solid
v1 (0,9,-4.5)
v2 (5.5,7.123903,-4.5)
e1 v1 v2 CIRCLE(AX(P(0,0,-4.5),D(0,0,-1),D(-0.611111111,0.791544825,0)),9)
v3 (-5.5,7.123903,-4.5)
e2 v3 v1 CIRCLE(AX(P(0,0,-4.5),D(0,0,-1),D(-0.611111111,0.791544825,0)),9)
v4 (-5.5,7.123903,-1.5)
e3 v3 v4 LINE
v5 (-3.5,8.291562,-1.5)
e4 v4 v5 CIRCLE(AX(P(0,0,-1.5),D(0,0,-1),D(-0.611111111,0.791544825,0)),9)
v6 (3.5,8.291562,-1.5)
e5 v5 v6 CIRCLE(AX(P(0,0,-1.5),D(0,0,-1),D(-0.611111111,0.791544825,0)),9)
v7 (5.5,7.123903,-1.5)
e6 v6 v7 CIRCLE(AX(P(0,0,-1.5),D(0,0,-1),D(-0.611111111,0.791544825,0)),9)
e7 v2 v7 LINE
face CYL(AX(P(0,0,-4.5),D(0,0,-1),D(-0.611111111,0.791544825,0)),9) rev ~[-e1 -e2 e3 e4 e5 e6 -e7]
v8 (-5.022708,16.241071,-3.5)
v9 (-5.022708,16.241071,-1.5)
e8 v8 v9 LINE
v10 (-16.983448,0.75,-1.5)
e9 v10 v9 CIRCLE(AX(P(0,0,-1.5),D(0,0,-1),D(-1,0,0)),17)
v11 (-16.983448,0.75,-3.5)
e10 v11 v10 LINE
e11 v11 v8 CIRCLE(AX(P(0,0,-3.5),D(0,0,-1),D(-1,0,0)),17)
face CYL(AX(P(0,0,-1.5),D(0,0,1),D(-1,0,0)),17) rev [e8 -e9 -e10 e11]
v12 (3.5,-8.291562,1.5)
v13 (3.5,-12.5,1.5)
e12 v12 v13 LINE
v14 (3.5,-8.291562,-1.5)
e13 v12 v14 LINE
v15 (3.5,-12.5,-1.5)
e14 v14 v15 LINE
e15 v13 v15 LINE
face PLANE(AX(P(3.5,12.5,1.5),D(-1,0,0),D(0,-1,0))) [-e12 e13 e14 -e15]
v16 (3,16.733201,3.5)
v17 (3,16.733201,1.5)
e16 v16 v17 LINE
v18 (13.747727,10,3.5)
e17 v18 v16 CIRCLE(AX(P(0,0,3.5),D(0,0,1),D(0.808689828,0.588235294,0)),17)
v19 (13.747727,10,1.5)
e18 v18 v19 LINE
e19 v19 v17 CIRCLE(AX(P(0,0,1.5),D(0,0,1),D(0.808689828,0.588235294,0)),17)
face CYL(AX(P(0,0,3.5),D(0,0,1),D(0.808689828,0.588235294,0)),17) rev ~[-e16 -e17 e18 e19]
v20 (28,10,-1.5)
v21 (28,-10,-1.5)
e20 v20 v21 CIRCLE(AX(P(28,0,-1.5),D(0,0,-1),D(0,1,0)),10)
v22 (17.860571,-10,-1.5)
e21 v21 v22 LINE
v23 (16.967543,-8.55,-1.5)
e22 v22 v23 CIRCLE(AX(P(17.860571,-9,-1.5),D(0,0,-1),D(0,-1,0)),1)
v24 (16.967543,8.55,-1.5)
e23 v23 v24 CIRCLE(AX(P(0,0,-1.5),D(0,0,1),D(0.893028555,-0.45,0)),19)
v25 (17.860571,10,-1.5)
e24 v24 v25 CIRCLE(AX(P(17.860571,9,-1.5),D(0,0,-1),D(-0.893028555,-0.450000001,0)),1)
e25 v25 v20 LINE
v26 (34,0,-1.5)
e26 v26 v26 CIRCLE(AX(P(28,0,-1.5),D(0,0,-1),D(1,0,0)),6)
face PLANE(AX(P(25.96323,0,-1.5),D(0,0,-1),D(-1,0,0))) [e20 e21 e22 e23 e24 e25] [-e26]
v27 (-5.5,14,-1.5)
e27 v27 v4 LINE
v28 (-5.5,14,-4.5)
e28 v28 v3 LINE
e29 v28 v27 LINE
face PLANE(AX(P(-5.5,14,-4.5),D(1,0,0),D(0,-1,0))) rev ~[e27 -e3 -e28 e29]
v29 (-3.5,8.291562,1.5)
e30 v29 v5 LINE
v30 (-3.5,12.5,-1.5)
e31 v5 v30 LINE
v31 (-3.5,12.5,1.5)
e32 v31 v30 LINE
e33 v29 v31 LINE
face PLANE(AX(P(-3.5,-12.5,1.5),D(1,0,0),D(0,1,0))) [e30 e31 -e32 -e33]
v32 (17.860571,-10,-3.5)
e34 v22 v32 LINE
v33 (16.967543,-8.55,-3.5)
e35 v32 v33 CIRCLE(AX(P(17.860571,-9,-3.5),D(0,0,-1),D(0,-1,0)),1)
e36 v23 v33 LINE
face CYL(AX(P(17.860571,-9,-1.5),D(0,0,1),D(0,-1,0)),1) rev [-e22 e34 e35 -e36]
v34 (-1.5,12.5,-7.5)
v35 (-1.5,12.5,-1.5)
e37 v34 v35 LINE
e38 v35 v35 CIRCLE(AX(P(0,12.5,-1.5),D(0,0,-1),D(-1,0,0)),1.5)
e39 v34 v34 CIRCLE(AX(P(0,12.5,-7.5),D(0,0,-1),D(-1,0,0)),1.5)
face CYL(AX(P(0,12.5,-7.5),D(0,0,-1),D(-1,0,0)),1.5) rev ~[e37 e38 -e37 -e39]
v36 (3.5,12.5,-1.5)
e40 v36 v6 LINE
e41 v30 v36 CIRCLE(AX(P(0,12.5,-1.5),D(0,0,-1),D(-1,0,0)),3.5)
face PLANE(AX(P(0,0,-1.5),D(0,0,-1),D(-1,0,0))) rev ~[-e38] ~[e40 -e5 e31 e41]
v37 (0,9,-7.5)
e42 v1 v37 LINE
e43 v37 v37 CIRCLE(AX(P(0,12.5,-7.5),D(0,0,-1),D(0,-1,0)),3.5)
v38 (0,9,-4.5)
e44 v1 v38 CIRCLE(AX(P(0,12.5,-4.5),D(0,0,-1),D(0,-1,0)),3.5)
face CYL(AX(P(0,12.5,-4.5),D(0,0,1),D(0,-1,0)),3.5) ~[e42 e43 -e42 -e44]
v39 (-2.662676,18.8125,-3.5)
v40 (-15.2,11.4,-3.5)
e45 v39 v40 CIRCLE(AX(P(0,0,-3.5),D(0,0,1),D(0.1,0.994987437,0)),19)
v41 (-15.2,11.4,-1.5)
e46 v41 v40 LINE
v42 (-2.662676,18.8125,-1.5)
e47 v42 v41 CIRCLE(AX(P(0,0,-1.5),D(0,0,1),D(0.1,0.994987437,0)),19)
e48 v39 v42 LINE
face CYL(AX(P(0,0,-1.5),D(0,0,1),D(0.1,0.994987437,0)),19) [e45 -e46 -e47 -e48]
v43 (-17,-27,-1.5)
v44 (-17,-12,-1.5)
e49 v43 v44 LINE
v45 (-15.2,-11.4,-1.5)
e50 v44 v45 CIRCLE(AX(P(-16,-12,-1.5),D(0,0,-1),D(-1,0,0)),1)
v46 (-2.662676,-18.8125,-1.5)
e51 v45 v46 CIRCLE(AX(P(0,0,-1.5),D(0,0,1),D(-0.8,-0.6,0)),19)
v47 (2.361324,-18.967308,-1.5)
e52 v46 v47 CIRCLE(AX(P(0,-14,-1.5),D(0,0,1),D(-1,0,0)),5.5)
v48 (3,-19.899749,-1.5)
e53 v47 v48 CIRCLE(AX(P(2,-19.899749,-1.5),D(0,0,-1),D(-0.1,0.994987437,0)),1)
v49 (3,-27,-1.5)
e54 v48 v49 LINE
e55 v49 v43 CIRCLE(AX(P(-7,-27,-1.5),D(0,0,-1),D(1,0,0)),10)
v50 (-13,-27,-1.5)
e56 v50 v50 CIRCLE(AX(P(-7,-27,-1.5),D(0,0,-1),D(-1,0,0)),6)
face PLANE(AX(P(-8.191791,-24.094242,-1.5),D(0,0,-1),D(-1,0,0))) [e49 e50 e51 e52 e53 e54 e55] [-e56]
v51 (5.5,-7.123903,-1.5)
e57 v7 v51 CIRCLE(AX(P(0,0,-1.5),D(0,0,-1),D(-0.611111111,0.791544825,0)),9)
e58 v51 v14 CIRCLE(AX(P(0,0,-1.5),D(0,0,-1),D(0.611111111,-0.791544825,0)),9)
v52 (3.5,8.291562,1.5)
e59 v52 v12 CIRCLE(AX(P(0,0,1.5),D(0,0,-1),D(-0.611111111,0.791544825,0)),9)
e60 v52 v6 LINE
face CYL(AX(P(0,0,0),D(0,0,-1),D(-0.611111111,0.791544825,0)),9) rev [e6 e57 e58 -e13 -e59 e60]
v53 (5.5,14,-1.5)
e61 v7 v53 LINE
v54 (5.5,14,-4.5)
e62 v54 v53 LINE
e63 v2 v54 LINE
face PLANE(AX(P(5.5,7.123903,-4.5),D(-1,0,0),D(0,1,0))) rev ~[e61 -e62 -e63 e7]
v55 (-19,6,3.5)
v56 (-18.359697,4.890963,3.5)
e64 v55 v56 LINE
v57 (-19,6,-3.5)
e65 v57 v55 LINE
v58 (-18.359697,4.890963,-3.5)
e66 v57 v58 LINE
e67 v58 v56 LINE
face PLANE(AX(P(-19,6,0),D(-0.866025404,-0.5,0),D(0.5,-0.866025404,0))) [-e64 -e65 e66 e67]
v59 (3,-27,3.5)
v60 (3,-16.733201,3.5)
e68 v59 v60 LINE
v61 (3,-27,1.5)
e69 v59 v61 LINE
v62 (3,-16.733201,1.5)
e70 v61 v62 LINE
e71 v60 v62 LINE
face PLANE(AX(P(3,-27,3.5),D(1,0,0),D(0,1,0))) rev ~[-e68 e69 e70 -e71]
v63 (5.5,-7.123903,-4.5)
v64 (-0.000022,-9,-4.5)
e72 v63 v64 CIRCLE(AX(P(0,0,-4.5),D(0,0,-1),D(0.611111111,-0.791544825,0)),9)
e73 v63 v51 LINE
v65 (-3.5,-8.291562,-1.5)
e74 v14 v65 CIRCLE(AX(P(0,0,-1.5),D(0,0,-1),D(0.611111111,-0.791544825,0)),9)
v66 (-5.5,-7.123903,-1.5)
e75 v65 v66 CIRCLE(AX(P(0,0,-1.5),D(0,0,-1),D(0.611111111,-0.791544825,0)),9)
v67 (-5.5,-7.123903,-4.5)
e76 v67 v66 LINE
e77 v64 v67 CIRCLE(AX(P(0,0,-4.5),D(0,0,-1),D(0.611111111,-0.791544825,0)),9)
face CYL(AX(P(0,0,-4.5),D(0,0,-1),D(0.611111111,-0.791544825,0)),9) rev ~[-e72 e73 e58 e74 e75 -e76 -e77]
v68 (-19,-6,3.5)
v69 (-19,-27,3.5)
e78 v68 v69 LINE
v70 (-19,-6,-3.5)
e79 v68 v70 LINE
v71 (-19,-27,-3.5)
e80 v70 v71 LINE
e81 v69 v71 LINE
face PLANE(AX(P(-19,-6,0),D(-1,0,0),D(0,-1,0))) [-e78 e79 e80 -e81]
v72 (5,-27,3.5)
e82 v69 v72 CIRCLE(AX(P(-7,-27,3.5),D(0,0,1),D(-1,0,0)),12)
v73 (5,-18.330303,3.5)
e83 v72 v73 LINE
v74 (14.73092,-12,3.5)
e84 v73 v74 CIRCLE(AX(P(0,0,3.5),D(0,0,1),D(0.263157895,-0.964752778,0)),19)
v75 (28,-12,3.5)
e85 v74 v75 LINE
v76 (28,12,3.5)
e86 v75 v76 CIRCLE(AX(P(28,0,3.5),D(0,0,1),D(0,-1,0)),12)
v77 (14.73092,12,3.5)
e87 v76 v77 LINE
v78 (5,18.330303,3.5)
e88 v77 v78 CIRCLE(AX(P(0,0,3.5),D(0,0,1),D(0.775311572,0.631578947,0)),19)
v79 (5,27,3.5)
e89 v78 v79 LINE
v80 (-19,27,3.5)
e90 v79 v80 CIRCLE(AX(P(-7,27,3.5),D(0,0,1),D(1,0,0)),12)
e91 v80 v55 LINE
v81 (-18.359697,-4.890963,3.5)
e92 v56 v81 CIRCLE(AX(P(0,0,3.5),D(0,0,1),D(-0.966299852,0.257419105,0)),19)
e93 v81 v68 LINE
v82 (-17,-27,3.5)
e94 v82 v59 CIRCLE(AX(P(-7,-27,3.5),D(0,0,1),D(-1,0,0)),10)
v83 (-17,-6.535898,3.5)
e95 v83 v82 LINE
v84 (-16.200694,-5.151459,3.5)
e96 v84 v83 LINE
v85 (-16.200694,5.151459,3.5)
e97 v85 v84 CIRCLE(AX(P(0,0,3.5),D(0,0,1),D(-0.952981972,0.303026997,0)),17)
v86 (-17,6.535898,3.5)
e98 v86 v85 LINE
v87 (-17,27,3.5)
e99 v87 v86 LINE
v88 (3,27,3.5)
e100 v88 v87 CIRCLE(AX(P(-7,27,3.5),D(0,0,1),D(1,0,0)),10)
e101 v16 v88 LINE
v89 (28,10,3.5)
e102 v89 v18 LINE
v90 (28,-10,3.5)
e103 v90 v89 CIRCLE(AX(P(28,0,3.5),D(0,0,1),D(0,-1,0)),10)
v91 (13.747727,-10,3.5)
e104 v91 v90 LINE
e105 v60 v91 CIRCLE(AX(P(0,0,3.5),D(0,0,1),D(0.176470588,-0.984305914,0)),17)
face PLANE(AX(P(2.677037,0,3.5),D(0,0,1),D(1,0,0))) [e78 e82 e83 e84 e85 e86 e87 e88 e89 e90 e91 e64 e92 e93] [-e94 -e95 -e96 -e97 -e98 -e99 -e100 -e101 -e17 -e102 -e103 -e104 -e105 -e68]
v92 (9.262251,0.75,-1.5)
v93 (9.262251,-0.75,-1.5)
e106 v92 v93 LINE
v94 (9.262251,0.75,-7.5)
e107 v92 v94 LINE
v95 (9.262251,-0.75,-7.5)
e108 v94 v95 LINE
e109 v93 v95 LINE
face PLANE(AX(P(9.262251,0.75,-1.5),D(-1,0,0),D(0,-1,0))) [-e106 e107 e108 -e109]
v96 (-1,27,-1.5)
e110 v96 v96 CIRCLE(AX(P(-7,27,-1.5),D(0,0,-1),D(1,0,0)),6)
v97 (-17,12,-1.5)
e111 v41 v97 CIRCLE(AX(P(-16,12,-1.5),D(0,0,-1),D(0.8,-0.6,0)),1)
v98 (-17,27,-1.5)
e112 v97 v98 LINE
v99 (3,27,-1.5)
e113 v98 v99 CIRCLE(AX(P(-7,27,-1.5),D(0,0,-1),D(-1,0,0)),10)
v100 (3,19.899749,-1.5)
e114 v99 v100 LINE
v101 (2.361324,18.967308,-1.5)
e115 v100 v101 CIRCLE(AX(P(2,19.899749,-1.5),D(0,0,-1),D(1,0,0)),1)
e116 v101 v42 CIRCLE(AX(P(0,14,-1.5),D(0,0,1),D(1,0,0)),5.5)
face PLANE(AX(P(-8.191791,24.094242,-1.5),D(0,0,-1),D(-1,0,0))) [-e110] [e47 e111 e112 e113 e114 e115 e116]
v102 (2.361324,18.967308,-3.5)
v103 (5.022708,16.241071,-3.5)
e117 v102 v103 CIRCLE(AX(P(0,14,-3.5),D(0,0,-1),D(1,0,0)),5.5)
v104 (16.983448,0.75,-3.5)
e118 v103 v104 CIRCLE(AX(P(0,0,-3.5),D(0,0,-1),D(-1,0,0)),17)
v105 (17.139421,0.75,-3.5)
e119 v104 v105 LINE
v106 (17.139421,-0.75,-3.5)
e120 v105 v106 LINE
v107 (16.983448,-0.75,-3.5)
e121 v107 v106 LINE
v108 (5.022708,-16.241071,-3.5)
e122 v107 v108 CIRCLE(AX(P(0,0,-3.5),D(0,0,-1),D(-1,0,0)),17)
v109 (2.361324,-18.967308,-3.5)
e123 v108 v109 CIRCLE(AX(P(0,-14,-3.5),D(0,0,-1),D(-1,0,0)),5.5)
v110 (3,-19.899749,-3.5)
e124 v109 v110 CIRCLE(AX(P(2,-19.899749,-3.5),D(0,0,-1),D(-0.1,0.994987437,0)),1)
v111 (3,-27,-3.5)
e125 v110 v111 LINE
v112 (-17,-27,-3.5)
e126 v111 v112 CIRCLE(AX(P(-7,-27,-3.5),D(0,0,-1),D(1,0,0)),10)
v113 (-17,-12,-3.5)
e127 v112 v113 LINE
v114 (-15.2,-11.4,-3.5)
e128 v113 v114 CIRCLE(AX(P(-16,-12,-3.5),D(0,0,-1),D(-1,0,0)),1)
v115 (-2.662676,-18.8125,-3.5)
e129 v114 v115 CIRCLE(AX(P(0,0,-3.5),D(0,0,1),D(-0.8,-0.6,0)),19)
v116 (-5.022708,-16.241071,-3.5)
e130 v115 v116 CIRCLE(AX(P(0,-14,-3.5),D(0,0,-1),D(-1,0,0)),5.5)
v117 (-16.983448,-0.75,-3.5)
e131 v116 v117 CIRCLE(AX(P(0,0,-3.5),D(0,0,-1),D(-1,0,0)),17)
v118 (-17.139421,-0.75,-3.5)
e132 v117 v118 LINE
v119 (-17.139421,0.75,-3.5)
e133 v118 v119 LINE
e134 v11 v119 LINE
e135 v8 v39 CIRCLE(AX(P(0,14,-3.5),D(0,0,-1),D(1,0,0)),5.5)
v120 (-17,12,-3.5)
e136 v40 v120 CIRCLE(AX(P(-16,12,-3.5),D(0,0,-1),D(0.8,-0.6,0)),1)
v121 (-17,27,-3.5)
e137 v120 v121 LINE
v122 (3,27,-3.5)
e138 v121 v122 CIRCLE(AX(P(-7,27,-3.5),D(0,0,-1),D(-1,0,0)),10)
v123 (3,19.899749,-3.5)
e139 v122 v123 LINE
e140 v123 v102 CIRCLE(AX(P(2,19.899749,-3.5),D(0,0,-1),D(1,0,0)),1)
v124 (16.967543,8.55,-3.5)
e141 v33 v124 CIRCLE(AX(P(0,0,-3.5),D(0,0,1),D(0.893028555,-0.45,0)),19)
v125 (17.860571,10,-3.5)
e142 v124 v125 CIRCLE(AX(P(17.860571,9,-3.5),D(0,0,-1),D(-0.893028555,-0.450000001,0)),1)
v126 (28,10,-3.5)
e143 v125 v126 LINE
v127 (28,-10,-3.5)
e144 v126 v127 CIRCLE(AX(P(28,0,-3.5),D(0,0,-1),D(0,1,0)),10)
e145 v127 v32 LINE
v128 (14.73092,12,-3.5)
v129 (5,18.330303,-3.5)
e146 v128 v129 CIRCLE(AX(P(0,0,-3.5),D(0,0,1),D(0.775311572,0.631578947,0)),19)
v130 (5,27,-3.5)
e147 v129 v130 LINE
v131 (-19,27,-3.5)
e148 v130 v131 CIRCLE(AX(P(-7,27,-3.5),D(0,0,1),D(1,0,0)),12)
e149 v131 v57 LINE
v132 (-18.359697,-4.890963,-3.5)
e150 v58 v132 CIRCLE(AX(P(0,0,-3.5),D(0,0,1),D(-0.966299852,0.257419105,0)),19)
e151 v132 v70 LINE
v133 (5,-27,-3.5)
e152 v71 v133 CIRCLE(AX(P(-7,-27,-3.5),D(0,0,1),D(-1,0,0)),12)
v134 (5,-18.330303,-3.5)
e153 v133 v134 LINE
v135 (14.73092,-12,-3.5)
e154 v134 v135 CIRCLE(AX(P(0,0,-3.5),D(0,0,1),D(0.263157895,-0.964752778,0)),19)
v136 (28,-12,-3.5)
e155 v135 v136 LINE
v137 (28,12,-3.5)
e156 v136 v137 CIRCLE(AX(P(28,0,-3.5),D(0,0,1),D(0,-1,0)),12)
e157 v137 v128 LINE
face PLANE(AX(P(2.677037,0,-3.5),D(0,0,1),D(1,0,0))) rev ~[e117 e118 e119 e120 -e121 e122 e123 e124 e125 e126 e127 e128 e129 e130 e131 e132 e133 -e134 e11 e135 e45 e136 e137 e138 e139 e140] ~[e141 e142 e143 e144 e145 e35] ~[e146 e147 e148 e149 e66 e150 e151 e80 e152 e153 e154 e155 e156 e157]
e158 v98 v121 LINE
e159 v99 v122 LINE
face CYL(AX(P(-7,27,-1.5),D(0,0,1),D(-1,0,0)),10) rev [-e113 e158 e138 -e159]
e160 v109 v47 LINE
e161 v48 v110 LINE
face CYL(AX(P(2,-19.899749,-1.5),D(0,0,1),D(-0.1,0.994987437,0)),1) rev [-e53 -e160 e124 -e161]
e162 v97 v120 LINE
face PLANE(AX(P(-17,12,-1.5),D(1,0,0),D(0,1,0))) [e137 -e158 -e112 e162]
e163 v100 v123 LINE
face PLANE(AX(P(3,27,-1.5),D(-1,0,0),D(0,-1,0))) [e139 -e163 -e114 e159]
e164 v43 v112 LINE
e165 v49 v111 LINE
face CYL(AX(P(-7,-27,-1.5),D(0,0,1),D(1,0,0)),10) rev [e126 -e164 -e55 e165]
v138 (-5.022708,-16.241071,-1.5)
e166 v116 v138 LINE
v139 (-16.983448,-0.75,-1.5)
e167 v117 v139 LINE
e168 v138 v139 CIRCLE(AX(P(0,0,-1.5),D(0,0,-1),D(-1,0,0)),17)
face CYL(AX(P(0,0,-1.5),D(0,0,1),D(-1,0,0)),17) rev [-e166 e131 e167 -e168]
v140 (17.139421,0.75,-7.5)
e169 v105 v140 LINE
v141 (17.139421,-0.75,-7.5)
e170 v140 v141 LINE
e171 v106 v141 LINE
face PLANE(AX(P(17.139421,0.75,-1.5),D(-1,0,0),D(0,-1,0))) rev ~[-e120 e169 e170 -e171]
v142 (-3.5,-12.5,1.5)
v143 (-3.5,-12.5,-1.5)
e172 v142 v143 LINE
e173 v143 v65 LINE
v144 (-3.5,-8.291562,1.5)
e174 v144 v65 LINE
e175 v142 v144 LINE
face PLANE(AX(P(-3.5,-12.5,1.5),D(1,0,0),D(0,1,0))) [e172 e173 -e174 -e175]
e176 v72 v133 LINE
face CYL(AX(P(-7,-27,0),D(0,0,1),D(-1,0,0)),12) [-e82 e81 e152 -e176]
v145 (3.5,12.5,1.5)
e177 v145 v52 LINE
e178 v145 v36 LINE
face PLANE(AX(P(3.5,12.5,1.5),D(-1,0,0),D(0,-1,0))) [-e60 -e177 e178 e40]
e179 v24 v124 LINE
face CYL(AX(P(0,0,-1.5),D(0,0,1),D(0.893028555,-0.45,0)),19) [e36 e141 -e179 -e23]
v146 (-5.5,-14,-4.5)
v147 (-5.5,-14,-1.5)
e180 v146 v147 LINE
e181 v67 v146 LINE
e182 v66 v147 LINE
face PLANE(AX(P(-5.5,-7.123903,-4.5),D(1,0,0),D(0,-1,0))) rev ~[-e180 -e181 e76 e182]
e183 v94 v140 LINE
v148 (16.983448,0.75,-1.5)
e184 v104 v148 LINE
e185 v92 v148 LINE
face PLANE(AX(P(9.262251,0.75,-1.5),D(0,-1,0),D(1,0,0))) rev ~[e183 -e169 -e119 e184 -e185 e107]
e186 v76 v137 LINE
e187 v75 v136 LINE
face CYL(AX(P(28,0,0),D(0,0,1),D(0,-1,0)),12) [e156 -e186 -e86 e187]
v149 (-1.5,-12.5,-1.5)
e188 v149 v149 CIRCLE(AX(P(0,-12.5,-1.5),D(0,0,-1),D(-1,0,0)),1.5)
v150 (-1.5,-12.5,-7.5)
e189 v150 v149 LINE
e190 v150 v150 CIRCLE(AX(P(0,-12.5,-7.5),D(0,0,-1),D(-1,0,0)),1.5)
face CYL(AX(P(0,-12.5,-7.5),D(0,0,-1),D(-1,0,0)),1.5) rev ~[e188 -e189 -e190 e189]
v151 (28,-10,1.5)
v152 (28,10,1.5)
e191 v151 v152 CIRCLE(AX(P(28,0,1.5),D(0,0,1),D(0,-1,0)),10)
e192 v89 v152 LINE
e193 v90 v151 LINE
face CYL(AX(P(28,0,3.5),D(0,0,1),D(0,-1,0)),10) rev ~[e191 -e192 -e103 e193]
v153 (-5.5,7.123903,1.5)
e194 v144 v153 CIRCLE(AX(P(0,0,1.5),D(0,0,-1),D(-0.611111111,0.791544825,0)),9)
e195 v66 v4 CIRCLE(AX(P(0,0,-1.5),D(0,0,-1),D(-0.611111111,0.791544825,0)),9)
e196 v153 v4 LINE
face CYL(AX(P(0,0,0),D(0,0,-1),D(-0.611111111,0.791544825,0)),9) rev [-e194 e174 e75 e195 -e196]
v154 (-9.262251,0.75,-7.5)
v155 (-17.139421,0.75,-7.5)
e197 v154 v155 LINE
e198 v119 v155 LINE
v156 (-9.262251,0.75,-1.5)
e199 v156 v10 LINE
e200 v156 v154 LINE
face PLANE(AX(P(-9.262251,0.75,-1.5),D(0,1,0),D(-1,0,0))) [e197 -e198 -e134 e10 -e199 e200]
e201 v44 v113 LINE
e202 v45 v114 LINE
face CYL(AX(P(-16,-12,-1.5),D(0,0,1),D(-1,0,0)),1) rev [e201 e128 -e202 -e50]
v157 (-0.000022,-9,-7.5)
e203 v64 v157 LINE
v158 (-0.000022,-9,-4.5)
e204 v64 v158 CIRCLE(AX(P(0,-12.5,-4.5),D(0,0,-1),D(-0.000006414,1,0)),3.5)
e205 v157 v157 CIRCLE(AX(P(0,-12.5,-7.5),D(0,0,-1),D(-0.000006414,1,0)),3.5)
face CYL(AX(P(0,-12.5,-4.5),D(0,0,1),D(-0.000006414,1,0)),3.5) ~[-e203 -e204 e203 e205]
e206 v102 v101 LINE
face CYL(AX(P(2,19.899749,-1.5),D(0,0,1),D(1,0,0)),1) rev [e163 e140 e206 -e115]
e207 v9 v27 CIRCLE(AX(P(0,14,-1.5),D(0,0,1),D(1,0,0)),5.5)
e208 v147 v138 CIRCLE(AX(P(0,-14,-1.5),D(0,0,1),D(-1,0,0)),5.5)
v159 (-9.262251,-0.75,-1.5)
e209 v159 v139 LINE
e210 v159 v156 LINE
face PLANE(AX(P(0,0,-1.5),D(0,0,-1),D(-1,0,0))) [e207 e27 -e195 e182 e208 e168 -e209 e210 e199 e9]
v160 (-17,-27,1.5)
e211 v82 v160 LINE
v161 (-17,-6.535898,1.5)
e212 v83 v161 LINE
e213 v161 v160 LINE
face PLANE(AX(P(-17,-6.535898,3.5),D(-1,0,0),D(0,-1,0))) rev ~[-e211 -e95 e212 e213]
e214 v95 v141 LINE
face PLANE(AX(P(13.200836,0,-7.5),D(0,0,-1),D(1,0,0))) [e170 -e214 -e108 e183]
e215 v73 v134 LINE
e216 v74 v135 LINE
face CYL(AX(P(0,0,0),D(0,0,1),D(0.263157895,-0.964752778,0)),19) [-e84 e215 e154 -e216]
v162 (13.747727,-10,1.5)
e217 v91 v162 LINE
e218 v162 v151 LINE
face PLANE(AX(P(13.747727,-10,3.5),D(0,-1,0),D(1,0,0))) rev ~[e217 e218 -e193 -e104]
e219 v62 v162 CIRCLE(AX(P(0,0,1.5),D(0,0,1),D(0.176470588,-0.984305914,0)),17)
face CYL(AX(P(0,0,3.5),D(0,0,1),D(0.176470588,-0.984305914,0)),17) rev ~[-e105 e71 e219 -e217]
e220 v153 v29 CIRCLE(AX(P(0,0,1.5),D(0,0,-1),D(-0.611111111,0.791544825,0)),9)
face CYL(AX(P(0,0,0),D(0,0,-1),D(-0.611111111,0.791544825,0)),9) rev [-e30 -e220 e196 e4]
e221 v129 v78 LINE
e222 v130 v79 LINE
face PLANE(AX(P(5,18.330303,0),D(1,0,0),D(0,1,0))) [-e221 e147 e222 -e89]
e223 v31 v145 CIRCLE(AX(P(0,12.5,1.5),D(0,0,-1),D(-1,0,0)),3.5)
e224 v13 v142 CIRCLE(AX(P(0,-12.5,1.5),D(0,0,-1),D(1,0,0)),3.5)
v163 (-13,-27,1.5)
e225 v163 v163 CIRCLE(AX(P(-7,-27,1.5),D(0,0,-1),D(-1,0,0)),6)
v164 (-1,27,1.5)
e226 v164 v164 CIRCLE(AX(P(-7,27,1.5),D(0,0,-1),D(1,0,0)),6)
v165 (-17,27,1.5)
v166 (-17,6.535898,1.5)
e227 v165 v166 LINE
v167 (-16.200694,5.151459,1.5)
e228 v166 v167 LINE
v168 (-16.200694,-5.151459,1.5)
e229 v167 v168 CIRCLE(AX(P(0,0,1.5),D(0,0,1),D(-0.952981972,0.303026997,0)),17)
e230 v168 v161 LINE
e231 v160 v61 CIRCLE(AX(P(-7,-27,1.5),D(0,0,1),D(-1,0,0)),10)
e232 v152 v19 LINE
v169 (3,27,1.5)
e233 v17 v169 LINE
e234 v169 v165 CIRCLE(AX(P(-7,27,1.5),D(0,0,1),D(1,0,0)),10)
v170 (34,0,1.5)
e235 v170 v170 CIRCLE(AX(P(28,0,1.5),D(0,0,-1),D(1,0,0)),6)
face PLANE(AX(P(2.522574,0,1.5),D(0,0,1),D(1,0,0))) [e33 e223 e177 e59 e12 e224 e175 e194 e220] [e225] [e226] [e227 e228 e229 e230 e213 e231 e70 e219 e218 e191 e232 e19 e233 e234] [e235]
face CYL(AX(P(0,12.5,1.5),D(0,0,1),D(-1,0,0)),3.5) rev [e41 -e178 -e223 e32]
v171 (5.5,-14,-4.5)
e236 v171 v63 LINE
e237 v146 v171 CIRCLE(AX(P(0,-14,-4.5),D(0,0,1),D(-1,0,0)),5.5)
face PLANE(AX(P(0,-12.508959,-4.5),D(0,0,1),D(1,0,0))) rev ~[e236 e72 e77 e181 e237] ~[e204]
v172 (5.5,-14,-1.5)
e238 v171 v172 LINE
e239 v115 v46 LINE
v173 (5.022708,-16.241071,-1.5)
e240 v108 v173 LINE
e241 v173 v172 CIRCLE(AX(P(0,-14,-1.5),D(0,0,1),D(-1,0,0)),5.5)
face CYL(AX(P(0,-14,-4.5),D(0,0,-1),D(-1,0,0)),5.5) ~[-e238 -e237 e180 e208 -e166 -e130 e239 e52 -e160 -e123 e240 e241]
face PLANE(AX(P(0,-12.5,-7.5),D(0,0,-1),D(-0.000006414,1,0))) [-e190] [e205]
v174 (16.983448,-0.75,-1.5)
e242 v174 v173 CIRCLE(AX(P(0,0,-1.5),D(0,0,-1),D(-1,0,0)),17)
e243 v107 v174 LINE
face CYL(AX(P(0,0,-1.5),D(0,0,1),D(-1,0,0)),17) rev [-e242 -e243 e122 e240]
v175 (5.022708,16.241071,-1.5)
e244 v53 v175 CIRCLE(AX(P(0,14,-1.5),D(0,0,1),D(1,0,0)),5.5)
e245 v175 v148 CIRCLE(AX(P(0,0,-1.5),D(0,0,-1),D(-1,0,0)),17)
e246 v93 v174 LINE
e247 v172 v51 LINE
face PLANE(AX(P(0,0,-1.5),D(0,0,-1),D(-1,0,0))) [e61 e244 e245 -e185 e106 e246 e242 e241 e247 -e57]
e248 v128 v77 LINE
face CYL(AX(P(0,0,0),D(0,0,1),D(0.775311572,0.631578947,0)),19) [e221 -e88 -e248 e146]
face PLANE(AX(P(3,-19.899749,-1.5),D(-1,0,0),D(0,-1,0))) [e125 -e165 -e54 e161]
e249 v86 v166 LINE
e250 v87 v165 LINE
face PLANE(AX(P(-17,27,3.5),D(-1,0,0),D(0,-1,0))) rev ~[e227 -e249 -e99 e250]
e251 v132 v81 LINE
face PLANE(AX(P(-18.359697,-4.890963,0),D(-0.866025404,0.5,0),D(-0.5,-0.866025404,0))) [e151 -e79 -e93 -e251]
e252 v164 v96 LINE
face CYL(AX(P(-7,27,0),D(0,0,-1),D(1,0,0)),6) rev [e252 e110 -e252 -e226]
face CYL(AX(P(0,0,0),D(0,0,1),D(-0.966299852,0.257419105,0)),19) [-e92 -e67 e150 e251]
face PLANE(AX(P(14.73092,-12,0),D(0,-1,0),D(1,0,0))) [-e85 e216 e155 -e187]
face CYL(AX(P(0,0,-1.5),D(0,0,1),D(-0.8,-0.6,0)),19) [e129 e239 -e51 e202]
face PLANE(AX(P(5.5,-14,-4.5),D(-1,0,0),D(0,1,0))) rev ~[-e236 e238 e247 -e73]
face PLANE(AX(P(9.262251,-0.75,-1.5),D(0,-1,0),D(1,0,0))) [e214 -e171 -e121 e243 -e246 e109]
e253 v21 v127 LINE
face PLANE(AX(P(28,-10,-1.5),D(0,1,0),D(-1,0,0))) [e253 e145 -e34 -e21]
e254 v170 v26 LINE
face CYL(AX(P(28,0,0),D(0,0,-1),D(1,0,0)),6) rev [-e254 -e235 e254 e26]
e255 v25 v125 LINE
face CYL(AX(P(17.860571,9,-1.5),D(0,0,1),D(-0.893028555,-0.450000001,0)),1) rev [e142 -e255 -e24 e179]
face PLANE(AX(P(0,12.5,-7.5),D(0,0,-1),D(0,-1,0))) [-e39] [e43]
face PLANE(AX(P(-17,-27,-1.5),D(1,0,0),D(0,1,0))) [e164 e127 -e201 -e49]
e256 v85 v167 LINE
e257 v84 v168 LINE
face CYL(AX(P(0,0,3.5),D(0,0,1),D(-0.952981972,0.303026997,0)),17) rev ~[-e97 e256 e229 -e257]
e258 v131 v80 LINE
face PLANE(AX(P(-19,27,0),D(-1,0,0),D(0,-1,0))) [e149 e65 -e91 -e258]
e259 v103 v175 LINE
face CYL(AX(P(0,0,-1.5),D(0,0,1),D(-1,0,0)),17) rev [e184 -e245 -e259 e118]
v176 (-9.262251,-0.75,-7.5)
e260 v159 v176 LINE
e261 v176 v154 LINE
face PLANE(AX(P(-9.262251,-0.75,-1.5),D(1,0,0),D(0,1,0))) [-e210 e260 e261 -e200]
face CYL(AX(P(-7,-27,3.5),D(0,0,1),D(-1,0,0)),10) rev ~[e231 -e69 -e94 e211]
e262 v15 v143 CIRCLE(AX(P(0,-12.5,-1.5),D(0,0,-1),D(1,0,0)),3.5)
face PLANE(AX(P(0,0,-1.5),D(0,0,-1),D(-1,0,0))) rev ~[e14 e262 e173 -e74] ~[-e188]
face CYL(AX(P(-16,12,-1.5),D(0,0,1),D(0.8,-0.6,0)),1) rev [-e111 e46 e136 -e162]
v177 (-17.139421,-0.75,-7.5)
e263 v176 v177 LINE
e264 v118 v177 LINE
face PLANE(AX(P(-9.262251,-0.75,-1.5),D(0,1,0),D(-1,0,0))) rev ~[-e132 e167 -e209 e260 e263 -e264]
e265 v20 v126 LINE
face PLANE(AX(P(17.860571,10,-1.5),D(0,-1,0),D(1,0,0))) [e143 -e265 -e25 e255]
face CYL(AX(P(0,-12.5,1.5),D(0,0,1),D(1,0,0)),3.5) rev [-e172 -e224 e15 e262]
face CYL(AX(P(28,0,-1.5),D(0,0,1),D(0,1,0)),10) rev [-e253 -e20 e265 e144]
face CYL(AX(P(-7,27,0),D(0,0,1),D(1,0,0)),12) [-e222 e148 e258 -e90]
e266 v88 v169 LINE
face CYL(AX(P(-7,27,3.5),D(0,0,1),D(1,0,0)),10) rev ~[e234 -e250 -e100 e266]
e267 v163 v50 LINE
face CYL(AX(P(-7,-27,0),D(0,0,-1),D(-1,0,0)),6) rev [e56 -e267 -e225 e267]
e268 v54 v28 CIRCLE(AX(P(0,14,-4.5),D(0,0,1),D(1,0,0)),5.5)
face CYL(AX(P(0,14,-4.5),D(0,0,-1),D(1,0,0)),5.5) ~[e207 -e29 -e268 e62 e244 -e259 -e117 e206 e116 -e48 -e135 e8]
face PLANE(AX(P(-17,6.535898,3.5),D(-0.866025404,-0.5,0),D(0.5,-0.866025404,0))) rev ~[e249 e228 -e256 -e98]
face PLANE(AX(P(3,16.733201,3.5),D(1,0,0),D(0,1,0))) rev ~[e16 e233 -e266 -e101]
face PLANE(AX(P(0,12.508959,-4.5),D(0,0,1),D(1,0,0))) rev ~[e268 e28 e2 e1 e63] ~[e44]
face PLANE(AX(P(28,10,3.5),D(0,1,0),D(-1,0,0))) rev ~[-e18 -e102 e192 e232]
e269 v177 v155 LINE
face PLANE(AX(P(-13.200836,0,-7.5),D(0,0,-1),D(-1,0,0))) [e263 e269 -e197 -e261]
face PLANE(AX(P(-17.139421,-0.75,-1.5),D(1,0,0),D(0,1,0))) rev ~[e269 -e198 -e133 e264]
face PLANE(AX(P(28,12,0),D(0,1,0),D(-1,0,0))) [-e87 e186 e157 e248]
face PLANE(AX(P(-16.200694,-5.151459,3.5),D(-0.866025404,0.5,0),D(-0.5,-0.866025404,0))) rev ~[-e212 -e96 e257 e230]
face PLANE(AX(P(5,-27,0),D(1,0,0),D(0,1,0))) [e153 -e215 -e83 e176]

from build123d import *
from build123d.topology import SkipClean

# Parameters (mm, degrees)
ESQUISSE1_R                  = 9
ESQUISSE1_R_2                = 6
EXTRUSION1_DEPTH             = 3.5
ENL_V_MAT_EXTRU_1_DEPTH      = 2
ENL_V_START                  = -2
ESQUISSE4_R                  = 17
ENL_V_MAT_EXTRU_2_DEPTH      = 2
ESQUISSE6_W                  = 7.877170109
ESQUISSE6_H                  = 1.5
EXTRUSION4_DEPTH             = 6
R_P_TITION_CIRCULAIRE1_COUNT = 2
EXTRUSION5_START             = 3
EXTRUSION5_DEPTH             = 3
ENL_V_MAT_EXTRU_3_DEPTH      = 3
ESQUISSE10_R                 = 3.5
EXTRUSION6_DEPTH             = 3
ESQUISSE11_R                 = 1.5
ENL_V_MAT_EXTRU_4_DEPTH      = 57.938563382


with BuildPart() as part:
    # Esquisse1 → Extrusion1 (new, symmetric)
    with BuildSketch(Plane.XY):
        with BuildLine():
            Line((28, 12), (14.730919863, 12))
            ThreePointArc((14.730919863, 12), (10.360766525, 15.926534997), (5, 18.33030278))
            Line((5, 18.33030278), (5, 27))
            ThreePointArc((5, 27), (-7, 39), (-19, 27))
            Line((-19, 27), (-19, 6))
            Line((-19, 6), (-18.35969719, 4.890963001))
            ThreePointArc((-18.35969719, 4.890963001), (-19, 0), (-18.35969719, -4.890963001))
            Line((-18.35969719, -4.890963001), (-19, -6))
            Line((-19, -6), (-19, -27))
            ThreePointArc((-19, -27), (-7, -39), (5, -27))
            Line((5, -27), (5, -18.33030278))
            ThreePointArc((5, -18.33030278), (10.360766525, -15.926534997), (14.730919863, -12))
            Line((14.730919863, -12), (28, -12))
            ThreePointArc((28, -12), (40, 0), (28, 12))
        make_face()
        with Locations(Location((0, 0, 0), (0, 0, 127.669886964))):
            Circle(ESQUISSE1_R, mode=Mode.SUBTRACT)
        with Locations(Location((-7, -27, 0), (0, 0, 180))):
            Circle(ESQUISSE1_R_2, mode=Mode.SUBTRACT)
        with Locations((-7, 27)):
            Circle(ESQUISSE1_R_2, mode=Mode.SUBTRACT)
        with Locations((28, 0)):
            Circle(ESQUISSE1_R_2, mode=Mode.SUBTRACT)
    extrude(amount=EXTRUSION1_DEPTH, both=True)

    # Esquisse3 → Enlèv. mat.-Extru.1 (cut)
    with BuildSketch(Plane.XY.offset(3.5)):
        with BuildLine():
            Line((-16.200693523, -5.151458956), (-17, -6.535898385))
            Line((-17, -6.535898385), (-17, -27))
            ThreePointArc((-17, -27), (-7, -37), (3, -27))
            Line((3, -27), (3, -16.733200531))
            ThreePointArc((3, -16.733200531), (9.025274953, -14.406401772), (13.747727085, -10))
            Line((13.747727085, -10), (28, -10))
            ThreePointArc((28, -10), (38, 0), (28, 10))
            Line((28, 10), (13.747727085, 10))
            ThreePointArc((13.747727085, 10), (9.025274953, 14.406401772), (3, 16.733200531))
            Line((3, 16.733200531), (3, 27))
            ThreePointArc((3, 27), (-7, 37), (-17, 27))
            Line((-17, 27), (-17, 6.535898385))
            Line((-17, 6.535898385), (-16.200693523, 5.151458956))
            ThreePointArc((-16.200693523, 5.151458956), (-17, 0), (-16.200693523, -5.151458956))
        make_face()
    extrude(amount=-ENL_V_MAT_EXTRU_1_DEPTH, mode=Mode.SUBTRACT)

    # Esquisse4 → Enlèv. mat.-Extru.2 (cut)
    with BuildSketch(Plane(origin=(0, 0, -3.5), x_dir=(-1, 0, 0), z_dir=(0, 0, -1)).offset(ENL_V_START)):
        Circle(ESQUISSE4_R)
        with BuildLine():
            Line((17, 12), (17, 27))
            ThreePointArc((17, 27), (7, 37), (-3, 27))
            Line((-3, 27), (-3, 19.899748742))
            ThreePointArc((-3, 19.899748742), (-2.670820393, 19.158128893), (-1.9, 18.904761305))
            ThreePointArc((-1.9, 18.904761305), (7.635630986, 17.398193568), (15.2, 11.4))
            ThreePointArc((15.2, 11.4), (16.316227766, 11.051316702), (17, 12))
        make_face()
        with BuildLine():
            Line((-17.860571099, 10), (-28, 10))
            ThreePointArc((-28, 10), (-38, 0), (-28, -10))
            Line((-28, -10), (-17.860571099, -10))
            ThreePointArc((-17.860571099, -10), (-17.009101781, -9.524404424), (-16.967542545, -8.55))
            ThreePointArc((-16.967542545, -8.55), (-19, 0), (-16.967542545, 8.55))
            ThreePointArc((-16.967542545, 8.55), (-17.009101781, 9.524404424), (-17.860571099, 10))
        make_face()
        with BuildLine():
            Line((-3, -19.899748742), (-3, -27))
            ThreePointArc((-3, -27), (7, -37), (17, -27))
            Line((17, -27), (17, -12))
            ThreePointArc((17, -12), (16.316227766, -11.051316702), (15.2, -11.4))
            ThreePointArc((15.2, -11.4), (7.635630986, -17.398193568), (-1.9, -18.904761305))
            ThreePointArc((-1.9, -18.904761305), (-2.670820393, -19.158128893), (-3, -19.899748742))
        make_face()
    extrude(amount=ENL_V_MAT_EXTRU_2_DEPTH, mode=Mode.SUBTRACT)

    # Esquisse6 → Extrusion4 (add)
    with BuildSketch(Plane(origin=(0, 0, -1.5), x_dir=(-1, 0, 0), z_dir=(0, 0, -1))):
        with Locations((13.200835764, 0)):
            Rectangle(ESQUISSE6_W, ESQUISSE6_H)
    extrusion4 = extrude(amount=EXTRUSION4_DEPTH)

    # Répétition circulaire1: Extrusion4 ×2 about axis
    r_p_tition_circulaire1_axis = Axis((0, 0, 0), (0, 0, 1))
    for i in range(1, R_P_TITION_CIRCULAIRE1_COUNT):
        add(extrusion4.rotate(r_p_tition_circulaire1_axis, i * 360 / R_P_TITION_CIRCULAIRE1_COUNT))

    # Esquisse7 → Extrusion5 (add)
    with SkipClean():  # the faces are left unmerged after this step: merging them gives an invalid solid
        with BuildSketch(Plane(origin=(0, 0, -1.5), x_dir=(-1, 0, 0), z_dir=(0, 0, -1)).offset(EXTRUSION5_START)):
            with BuildLine():
                Line((5.5, 14), (5.5, 7.123903424))
                ThreePointArc((5.5, 7.123903424), (0, 9), (-5.5, 7.123903424))
                Line((-5.5, 7.123903424), (-5.5, 14))
                ThreePointArc((-5.5, 14), (0, 19.5), (5.5, 14))
            make_face()
            with BuildLine():
                Line((-5.5, -14), (-5.5, -7.123903424))
                ThreePointArc((-5.5, -7.123903424), (0, -9), (5.5, -7.123903424))
                Line((5.5, -7.123903424), (5.5, -14))
                ThreePointArc((5.5, -14), (0, -19.5), (-5.5, -14))
            make_face()
        extrude(amount=-EXTRUSION5_DEPTH)

    # Esquisse8 → Enlèv. mat.-Extru.3 (cut)
    with SkipClean():  # the faces are left unmerged after this step: merging them gives an invalid solid
        with BuildSketch(Plane.XY.offset(1.5)):
            with BuildLine():
                Line((3.5, 12.5), (3.5, -12.5))
                ThreePointArc((3.5, -12.5), (0, -16), (-3.5, -12.5))
                Line((-3.5, -12.5), (-3.5, 12.5))
                ThreePointArc((-3.5, 12.5), (0, 16), (3.5, 12.5))
            make_face()
        extrude(amount=-ENL_V_MAT_EXTRU_3_DEPTH, mode=Mode.SUBTRACT)

    # Esquisse10 → Extrusion6 (add)
    with SkipClean():  # the faces are left unmerged after this step: merging them gives an invalid solid
        with BuildSketch(Plane(origin=(0, 0, -4.5), x_dir=(-1, 0, 0), z_dir=(0, 0, -1))):
            with Locations(Location((0, 12.5, 0), (0, 0, 270))):
                Circle(ESQUISSE10_R)
            with Locations(Location((0, -12.5, 0), (0, 0, 89.999632483))):
                Circle(ESQUISSE10_R)
        extrude(amount=EXTRUSION6_DEPTH)

    # Esquisse11 → Enlèv. mat.-Extru.4 (cut, through all)
    with SkipClean():  # the faces are left unmerged after this step: merging them gives an invalid solid
        with BuildSketch(Plane(origin=(0, 0, -7.5), x_dir=(-1, 0, 0), z_dir=(0, 0, -1))):
            with Locations((0, -12.5)):
                Circle(ESQUISSE11_R)
            with Locations((0, 12.5)):
                Circle(ESQUISSE11_R)
        extrude(amount=-ENL_V_MAT_EXTRU_4_DEPTH, mode=Mode.SUBTRACT)


solid = part.part
